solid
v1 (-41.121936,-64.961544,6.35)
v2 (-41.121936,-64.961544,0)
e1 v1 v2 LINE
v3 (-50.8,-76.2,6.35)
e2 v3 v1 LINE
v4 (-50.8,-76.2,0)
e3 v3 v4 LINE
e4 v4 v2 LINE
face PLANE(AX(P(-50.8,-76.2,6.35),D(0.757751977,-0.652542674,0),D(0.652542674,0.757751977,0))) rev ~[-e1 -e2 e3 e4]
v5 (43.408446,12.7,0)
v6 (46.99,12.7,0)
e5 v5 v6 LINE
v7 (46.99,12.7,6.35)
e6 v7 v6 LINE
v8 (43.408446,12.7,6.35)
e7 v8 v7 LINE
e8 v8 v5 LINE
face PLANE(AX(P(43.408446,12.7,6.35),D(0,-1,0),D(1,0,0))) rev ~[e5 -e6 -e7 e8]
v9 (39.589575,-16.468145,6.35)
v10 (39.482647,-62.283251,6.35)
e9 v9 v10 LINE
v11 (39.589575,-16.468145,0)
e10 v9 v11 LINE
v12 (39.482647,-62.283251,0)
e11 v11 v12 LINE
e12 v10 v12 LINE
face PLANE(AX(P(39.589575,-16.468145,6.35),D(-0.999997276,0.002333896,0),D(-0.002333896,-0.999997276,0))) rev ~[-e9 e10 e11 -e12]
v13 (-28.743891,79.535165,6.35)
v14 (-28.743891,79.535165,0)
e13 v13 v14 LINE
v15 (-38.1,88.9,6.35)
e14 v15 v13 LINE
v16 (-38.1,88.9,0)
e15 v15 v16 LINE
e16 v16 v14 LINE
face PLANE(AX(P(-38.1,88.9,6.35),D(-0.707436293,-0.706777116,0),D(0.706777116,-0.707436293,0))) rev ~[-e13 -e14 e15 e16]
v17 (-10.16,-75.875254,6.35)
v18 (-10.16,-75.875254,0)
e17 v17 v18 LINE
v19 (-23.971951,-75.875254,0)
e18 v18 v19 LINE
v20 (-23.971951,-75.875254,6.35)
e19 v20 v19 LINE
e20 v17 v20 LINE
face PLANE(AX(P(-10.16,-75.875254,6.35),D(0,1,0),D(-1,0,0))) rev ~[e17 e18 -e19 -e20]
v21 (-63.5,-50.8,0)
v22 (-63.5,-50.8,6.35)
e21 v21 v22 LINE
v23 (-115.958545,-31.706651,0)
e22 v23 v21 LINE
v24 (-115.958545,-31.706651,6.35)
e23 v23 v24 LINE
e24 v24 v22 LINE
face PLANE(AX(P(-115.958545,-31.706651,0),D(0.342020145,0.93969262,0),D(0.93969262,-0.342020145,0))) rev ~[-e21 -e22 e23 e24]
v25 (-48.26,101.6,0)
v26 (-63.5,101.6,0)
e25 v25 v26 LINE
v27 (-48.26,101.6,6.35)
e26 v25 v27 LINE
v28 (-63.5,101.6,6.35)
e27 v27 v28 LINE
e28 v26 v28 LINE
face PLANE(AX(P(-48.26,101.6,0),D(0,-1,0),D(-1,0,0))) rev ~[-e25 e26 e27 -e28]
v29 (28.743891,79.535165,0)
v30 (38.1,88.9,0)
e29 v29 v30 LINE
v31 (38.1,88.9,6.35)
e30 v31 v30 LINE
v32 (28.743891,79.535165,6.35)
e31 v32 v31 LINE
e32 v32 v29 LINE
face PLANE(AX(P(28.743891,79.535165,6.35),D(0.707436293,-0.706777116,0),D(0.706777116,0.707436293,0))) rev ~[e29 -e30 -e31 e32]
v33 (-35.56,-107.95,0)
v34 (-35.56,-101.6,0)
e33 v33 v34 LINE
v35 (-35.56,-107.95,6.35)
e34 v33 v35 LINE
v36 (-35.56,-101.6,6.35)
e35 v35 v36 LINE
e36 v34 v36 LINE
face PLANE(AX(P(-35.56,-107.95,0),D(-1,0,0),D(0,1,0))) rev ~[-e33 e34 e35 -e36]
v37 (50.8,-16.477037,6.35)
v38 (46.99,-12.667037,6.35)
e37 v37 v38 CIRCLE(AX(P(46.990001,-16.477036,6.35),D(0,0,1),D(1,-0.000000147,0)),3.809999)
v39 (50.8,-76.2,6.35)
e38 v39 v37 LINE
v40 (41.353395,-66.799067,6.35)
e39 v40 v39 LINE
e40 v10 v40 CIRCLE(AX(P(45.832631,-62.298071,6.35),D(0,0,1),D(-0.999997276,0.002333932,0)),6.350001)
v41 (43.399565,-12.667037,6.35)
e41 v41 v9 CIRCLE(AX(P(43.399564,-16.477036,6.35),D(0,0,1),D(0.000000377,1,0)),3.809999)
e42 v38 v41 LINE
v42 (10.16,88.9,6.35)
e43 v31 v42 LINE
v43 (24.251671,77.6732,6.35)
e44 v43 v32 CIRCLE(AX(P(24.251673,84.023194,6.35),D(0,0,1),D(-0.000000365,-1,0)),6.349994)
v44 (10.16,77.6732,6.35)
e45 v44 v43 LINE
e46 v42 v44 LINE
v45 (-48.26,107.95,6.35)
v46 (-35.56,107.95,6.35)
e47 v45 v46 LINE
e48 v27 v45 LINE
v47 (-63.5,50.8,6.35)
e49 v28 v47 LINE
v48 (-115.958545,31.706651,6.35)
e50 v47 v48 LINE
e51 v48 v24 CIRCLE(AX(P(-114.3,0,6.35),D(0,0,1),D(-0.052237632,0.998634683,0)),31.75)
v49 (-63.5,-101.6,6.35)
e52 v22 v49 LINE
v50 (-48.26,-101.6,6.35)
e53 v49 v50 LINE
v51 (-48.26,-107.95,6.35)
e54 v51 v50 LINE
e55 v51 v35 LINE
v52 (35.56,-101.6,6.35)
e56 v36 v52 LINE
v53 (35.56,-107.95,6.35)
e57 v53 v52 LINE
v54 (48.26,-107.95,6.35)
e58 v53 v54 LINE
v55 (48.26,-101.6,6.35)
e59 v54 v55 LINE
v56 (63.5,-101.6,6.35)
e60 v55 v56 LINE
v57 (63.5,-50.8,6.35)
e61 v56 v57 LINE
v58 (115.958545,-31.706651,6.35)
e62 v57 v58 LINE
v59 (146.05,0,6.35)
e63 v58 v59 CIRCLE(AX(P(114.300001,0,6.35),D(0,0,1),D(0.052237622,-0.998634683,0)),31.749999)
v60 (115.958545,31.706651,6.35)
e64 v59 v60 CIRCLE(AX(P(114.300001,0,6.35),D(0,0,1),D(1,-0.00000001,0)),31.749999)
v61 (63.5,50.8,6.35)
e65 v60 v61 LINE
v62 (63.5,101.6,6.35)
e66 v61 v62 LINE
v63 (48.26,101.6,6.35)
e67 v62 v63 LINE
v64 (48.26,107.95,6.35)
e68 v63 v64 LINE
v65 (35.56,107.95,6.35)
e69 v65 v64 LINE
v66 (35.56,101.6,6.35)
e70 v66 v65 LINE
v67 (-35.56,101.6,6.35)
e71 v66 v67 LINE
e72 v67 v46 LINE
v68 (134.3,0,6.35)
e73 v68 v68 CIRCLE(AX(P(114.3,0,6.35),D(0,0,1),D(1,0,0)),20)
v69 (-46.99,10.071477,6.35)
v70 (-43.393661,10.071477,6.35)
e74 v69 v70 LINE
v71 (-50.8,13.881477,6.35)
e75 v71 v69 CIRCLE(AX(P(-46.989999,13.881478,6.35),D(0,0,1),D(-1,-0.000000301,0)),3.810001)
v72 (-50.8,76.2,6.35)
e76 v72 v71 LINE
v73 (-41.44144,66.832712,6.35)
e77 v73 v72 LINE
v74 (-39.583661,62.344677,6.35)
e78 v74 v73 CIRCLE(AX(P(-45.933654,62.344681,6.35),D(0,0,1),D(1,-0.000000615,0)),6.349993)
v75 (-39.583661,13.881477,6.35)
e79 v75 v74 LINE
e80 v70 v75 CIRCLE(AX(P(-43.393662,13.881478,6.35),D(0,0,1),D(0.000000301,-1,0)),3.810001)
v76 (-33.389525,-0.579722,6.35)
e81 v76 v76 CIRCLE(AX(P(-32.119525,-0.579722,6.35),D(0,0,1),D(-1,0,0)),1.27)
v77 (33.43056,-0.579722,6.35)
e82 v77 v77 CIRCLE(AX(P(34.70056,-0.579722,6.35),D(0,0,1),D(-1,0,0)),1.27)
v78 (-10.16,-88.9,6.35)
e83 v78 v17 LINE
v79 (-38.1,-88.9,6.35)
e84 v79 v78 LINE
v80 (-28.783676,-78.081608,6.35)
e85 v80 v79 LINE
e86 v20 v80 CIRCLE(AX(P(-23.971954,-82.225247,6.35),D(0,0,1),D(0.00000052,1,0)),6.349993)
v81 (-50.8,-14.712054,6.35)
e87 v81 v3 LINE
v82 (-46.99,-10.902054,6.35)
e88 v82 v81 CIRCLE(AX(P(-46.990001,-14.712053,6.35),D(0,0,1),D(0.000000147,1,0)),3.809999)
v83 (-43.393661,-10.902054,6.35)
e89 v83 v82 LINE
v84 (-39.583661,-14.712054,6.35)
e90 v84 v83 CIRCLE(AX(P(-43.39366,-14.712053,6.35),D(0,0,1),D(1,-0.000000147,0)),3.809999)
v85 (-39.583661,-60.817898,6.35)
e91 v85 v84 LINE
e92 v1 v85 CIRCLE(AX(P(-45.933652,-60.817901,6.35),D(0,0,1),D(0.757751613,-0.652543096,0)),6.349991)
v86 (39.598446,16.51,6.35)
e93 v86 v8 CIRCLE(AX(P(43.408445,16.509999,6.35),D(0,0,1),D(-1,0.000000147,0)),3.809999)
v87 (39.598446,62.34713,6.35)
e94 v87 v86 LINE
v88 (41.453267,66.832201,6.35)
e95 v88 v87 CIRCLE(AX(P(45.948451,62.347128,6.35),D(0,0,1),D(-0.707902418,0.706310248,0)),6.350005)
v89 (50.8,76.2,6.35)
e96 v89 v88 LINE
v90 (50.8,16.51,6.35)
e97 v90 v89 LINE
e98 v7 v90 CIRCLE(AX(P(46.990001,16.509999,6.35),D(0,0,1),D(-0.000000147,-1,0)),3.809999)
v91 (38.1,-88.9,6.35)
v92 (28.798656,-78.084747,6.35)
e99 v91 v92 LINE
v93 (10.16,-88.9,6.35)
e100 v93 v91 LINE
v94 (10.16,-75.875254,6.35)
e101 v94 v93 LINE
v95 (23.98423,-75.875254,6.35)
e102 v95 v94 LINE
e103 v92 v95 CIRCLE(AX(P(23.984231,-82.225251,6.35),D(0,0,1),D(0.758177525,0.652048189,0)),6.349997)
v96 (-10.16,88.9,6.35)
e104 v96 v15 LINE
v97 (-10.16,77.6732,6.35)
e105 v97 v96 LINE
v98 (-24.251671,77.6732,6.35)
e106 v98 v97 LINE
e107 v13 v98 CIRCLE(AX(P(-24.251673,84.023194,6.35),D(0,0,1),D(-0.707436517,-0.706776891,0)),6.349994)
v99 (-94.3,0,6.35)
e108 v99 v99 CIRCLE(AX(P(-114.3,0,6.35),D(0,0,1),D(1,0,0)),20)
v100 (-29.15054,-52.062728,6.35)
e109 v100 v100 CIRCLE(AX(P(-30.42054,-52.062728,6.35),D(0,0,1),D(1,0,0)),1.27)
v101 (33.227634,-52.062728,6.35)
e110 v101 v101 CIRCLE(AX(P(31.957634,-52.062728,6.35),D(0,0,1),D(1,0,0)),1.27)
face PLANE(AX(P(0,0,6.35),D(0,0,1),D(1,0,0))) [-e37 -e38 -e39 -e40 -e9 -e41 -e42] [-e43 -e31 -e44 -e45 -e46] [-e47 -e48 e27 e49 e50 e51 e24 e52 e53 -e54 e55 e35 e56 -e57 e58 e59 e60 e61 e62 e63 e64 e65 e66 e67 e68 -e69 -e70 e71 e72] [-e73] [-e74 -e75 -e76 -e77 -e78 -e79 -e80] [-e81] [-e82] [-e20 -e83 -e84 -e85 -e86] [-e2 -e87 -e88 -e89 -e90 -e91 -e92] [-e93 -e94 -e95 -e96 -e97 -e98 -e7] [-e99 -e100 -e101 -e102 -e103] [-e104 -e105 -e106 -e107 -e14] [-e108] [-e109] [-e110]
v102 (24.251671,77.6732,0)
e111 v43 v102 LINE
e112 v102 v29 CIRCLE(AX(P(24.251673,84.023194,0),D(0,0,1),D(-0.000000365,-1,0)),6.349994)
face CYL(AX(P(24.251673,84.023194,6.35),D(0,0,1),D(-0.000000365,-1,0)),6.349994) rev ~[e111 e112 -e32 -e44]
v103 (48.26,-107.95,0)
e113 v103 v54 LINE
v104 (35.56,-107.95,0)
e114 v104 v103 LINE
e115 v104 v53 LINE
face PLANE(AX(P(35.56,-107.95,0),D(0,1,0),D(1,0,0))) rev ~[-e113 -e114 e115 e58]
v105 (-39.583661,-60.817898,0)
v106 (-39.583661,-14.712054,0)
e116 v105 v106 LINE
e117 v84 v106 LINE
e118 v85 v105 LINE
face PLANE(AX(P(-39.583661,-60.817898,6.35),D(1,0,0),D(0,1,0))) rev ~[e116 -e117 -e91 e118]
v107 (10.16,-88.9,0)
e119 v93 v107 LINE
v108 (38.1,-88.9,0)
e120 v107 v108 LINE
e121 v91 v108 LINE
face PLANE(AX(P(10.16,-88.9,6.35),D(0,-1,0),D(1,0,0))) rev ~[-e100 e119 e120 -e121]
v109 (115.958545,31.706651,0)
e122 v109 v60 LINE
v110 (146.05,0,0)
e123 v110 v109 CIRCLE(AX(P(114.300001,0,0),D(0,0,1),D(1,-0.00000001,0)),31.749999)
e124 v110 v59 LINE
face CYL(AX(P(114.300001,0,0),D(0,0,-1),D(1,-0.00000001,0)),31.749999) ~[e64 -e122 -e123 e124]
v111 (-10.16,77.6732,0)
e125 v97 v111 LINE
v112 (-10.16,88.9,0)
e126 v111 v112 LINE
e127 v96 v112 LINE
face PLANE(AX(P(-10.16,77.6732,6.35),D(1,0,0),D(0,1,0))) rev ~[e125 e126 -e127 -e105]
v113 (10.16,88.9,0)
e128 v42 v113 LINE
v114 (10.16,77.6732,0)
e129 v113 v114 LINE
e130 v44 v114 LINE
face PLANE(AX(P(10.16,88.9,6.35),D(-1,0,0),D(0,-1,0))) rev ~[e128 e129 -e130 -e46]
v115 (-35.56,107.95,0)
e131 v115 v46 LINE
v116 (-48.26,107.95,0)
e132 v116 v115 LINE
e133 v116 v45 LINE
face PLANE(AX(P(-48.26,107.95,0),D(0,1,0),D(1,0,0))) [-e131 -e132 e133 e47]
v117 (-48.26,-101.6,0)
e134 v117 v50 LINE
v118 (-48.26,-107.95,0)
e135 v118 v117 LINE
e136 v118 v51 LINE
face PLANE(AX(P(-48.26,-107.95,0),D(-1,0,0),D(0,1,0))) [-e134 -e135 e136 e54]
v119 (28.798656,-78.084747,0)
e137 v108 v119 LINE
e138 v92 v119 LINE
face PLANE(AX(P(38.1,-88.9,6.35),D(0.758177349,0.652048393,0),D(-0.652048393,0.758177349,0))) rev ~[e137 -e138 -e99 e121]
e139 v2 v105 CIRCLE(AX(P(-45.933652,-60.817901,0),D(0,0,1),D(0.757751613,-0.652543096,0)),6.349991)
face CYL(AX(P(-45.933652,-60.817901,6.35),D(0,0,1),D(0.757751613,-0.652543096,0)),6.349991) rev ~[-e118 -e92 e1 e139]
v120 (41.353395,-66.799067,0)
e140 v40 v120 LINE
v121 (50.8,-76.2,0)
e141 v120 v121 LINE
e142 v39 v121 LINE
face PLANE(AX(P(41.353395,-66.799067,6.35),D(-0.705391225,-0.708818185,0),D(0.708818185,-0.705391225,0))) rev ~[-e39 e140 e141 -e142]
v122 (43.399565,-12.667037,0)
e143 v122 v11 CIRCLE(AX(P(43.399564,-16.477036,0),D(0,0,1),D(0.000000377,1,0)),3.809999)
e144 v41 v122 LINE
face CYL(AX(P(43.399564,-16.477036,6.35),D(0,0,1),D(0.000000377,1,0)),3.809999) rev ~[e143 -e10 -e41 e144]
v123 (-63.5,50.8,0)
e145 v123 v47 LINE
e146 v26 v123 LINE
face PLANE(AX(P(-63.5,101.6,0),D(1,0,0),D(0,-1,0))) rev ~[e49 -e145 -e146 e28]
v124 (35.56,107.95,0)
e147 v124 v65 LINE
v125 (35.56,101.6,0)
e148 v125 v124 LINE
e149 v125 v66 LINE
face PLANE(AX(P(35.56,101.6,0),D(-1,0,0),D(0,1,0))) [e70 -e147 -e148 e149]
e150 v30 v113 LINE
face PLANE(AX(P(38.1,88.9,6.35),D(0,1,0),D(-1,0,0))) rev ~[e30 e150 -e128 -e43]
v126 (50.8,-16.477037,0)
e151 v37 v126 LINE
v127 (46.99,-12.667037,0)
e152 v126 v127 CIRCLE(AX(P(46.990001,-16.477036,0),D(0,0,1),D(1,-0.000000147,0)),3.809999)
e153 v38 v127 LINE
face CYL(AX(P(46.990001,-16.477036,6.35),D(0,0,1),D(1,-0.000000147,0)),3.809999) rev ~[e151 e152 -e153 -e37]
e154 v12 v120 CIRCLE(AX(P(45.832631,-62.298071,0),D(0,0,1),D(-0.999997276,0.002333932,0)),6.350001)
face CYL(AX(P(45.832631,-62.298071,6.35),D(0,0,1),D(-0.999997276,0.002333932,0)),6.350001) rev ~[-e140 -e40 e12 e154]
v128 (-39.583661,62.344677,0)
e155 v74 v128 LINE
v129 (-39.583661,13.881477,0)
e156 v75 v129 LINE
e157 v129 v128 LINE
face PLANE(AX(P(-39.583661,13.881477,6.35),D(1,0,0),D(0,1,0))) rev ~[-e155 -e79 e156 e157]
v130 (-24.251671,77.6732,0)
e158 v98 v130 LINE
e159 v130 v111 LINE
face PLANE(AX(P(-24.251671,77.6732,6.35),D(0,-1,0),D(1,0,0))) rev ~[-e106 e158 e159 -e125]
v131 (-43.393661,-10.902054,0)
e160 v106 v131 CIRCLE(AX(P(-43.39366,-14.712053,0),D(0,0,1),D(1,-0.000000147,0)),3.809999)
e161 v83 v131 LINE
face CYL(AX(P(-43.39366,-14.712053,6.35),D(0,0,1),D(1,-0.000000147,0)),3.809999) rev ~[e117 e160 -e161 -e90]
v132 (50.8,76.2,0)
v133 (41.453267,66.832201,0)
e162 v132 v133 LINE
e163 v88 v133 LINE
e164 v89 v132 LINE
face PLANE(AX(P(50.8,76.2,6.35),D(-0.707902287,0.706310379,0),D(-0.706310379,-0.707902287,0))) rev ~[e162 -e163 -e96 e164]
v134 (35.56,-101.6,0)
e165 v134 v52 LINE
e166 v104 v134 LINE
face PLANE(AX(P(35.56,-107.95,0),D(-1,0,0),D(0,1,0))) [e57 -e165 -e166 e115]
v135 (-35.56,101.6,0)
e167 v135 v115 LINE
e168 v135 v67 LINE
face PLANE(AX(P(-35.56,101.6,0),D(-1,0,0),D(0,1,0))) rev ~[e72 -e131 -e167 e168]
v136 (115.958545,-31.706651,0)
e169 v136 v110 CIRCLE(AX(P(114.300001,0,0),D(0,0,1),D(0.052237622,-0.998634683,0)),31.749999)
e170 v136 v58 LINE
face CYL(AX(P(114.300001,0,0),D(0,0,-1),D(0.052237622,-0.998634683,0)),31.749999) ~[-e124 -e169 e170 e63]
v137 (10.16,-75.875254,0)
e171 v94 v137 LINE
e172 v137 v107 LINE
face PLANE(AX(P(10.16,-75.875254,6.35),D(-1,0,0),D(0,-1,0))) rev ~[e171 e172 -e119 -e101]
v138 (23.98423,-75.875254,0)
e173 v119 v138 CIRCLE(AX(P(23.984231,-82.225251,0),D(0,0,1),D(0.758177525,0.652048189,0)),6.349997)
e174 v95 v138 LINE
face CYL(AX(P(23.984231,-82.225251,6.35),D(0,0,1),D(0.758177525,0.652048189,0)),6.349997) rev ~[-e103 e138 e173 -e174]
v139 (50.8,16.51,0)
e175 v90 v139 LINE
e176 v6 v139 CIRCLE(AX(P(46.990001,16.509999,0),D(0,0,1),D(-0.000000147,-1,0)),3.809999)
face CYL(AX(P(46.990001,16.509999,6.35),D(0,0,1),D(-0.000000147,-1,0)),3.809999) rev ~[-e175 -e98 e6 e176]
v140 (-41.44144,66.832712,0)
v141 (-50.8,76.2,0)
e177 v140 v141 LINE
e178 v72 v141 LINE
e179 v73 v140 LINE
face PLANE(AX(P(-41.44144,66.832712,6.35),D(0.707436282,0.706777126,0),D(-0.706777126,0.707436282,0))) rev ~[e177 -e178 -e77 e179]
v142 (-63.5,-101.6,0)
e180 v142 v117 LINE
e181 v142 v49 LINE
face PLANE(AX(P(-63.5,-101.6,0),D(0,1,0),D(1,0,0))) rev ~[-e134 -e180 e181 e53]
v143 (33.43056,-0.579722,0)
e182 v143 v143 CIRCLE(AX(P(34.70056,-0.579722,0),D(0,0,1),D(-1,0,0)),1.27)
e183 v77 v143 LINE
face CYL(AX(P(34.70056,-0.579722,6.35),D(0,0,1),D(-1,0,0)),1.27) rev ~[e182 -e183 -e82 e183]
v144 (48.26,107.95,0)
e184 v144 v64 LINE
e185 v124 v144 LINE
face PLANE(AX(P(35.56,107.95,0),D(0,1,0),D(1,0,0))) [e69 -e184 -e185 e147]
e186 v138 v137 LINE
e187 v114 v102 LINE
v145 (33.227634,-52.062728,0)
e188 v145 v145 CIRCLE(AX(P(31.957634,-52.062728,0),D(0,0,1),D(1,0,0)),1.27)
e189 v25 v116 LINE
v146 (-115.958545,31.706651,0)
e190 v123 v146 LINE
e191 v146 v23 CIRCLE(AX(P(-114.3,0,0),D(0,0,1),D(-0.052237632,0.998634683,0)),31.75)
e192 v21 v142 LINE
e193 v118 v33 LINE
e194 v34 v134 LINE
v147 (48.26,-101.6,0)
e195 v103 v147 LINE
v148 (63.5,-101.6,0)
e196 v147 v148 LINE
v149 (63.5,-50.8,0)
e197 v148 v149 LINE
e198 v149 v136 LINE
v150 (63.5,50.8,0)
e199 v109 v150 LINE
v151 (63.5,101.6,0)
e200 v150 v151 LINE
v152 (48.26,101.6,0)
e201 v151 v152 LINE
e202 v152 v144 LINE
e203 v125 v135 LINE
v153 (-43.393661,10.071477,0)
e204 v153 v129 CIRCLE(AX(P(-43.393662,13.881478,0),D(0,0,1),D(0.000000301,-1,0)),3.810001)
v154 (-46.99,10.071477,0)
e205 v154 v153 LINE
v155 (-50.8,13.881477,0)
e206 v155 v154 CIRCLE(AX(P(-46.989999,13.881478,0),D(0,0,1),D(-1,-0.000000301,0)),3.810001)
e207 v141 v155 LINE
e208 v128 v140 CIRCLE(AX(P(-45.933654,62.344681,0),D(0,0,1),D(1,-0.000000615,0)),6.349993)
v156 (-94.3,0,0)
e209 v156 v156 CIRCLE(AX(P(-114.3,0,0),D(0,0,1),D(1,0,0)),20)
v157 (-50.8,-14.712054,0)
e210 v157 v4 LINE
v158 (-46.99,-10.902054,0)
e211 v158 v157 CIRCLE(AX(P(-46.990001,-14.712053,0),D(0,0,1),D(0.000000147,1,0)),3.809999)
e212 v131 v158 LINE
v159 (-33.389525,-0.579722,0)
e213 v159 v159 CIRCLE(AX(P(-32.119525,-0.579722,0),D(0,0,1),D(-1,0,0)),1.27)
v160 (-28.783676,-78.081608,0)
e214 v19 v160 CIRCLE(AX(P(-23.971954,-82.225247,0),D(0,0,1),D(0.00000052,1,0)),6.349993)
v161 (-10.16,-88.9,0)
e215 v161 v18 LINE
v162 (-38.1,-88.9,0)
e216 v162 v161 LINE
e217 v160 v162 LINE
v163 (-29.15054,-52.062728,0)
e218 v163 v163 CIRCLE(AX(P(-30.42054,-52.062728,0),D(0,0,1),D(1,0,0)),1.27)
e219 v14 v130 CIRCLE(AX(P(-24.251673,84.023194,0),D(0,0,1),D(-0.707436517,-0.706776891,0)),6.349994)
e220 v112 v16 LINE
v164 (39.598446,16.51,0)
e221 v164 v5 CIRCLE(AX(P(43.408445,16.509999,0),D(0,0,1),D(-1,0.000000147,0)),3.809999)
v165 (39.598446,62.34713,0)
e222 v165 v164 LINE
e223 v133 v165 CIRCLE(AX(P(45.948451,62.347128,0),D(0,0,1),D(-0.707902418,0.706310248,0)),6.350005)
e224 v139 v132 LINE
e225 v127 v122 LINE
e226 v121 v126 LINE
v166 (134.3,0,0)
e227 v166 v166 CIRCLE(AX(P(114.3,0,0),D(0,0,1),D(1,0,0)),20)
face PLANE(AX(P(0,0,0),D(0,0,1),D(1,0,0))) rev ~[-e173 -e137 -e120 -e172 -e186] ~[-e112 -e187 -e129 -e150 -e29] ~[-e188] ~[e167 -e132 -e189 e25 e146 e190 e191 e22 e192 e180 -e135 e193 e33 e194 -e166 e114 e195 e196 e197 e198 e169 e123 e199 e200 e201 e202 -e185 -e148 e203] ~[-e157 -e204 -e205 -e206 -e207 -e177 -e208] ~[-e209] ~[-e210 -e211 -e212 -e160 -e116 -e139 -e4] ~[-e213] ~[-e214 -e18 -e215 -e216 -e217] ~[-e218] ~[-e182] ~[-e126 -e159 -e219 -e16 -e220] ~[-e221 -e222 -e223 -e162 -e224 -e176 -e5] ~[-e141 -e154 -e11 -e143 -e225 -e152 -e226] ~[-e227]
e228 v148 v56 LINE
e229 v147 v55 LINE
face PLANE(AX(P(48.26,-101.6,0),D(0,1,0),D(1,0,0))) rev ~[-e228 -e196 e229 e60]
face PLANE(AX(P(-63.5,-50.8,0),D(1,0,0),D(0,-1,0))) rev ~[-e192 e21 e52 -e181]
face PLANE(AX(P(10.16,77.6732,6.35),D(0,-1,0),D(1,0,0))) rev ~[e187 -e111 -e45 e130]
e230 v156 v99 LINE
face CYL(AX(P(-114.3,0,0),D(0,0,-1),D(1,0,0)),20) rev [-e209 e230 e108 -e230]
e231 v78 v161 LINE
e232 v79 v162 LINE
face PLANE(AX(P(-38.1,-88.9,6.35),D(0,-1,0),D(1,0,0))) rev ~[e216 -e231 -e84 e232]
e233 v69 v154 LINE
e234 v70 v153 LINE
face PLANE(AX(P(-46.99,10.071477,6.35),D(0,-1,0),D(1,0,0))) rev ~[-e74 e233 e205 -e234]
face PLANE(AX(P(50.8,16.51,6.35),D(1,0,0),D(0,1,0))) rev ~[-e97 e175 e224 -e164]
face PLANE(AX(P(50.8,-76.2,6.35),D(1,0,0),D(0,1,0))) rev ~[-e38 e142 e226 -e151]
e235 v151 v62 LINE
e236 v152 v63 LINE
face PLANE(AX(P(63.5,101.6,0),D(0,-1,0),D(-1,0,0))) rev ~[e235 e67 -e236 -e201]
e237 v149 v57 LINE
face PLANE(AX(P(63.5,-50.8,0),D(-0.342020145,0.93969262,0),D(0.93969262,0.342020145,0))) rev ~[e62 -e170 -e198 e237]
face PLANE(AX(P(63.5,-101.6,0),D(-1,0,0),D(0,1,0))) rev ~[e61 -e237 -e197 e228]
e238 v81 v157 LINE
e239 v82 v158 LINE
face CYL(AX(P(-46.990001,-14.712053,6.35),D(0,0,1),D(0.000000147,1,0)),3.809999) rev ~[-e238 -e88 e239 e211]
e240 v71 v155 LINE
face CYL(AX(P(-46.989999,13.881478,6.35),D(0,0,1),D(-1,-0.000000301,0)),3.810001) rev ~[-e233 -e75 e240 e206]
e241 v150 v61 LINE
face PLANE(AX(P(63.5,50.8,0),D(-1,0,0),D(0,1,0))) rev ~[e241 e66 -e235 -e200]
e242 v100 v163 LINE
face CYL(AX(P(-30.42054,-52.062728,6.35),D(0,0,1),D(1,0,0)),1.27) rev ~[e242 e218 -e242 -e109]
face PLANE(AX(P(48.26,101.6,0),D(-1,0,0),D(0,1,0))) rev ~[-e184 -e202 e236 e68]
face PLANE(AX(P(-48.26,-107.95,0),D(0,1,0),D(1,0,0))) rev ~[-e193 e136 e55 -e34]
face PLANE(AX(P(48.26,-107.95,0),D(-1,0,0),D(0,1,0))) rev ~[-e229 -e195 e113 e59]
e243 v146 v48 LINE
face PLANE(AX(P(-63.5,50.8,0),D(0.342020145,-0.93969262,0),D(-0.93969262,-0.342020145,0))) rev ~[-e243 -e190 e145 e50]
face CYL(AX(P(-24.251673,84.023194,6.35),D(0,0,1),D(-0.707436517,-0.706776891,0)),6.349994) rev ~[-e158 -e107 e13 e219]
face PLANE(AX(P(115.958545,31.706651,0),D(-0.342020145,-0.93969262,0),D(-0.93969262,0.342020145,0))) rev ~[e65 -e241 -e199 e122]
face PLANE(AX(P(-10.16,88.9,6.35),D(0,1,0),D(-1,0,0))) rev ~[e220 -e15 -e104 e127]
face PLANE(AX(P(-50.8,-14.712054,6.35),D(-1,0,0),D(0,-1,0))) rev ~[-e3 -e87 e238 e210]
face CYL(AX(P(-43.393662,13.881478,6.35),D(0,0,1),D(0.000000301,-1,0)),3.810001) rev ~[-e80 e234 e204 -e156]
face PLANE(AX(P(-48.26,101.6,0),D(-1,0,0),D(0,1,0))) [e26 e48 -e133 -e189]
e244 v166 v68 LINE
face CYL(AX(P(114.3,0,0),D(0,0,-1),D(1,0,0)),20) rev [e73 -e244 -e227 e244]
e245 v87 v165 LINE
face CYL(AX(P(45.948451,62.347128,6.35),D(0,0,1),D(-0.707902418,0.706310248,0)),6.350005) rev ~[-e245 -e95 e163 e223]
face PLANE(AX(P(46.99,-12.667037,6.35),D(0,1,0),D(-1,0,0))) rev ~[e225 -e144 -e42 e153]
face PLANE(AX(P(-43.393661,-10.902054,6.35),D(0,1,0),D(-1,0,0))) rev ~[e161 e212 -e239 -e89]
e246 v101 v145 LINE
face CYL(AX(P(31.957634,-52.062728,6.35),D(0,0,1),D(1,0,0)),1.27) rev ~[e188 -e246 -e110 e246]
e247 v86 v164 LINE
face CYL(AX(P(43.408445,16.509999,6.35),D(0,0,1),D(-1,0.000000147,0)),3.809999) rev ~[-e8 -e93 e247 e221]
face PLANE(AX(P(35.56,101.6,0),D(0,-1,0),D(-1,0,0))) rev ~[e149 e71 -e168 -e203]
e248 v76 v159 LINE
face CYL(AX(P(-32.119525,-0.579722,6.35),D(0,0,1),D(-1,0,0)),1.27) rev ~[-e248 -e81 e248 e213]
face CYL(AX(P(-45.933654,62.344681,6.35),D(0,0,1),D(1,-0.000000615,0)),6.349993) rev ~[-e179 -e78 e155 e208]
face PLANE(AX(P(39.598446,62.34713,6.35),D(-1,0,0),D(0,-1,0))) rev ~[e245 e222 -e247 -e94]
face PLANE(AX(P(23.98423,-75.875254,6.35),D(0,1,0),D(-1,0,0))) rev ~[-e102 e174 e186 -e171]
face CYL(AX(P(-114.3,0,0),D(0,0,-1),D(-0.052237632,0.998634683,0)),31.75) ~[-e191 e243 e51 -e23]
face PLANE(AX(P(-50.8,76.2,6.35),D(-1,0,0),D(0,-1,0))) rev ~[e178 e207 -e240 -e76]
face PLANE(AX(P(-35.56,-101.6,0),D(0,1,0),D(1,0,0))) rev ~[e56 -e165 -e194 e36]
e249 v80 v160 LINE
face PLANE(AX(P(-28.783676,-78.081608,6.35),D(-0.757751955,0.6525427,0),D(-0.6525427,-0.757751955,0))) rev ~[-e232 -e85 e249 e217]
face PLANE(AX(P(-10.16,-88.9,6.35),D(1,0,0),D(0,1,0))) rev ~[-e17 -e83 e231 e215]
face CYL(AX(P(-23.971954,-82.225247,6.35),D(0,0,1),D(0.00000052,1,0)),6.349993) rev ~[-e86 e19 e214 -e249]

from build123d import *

# Parameters (mm, degrees)
F0_W     = 12.7
F0_H     = 6.35
F0_R     = 20
F1_DEPTH = 6.35
F3_DEPTH = 25.4
F4_R     = 1.27
F5_DEPTH = 25.4


with BuildPart() as f1:
    # F0 (on Top) → F1 (new body)
    with BuildSketch(Plane.XY):
        Polygon((-48.26, 101.6), (-63.5, 101.6), (-63.5, 50.8), (-63.5, -50.8), (-63.5, -101.6), (-48.26, -101.6), (-35.56, -101.6), (35.56, -101.6), (48.26, -101.6), (63.5, -101.6), (63.5, -50.8), (63.5, 50.8), (63.5, 101.6), (48.26, 101.6), (35.56, 101.6), (-35.56, 101.6), align=None)
        with Locations((-41.91, 104.775)):
            Rectangle(F0_W, F0_H)
        with BuildLine():
            Line((-63.5, -50.8), (-63.5, 50.8))
            Line((-63.5, 50.8), (-115.958545, 31.706651))
            ThreePointArc((-115.958545, 31.706651), (-92.443608, 23.02956), (-82.55, 0))
            ThreePointArc((-82.55, 0), (-92.443608, -23.02956), (-115.958545, -31.706651))
            Line((-115.958545, -31.706651), (-63.5, -50.8))
        make_face()
        with BuildLine():
            ThreePointArc((-82.55, 0), (-92.443608, 23.02956), (-115.958545, 31.706651))
            ThreePointArc((-115.958545, 31.706651), (-146.05, 0), (-115.958545, -31.706651))
            ThreePointArc((-115.958545, -31.706651), (-92.443608, -23.02956), (-82.55, 0))
        make_face()
        with Locations((-114.3, 0)):
            Circle(F0_R, mode=Mode.SUBTRACT)
        with Locations((41.91, 104.775)):
            Rectangle(F0_W, F0_H)
        with Locations((-41.91, -104.775)):
            Rectangle(F0_W, F0_H)
        with BuildLine():
            Line((115.958545, 31.706651), (63.5, 50.8))
            Line((63.5, 50.8), (63.5, -50.8))
            Line((63.5, -50.8), (115.958545, -31.706651))
            ThreePointArc((115.958545, -31.706651), (82.55, 0), (115.958545, 31.706651))
        make_face()
        with Locations((41.91, -104.775)):
            Rectangle(F0_W, F0_H)
        with BuildLine():
            ThreePointArc((146.05, 0), (137.32956, 21.856392), (115.958545, 31.706651))
            ThreePointArc((115.958545, 31.706651), (82.55, 0), (115.958545, -31.706651))
            ThreePointArc((115.958545, -31.706651), (137.32956, -21.856392), (146.05, 0))
        make_face()
        with Locations((114.3, 0)):
            Circle(F0_R, mode=Mode.SUBTRACT)
    extrude(amount=F1_DEPTH)

    # F2 (on face) → F3 (cut)
    with BuildSketch(Plane.XY.offset(6.35)):
        with BuildLine():
            ThreePointArc((-28.743891, 79.535165), (-26.683078, 78.157131), (-24.251671, 77.6732))
            Line((-24.251671, 77.6732), (-10.16, 77.6732))
            Line((-10.16, 77.6732), (-10.16, 88.9))
            Line((-10.16, 88.9), (-38.1, 88.9))
            Line((-38.1, 88.9), (-28.743891, 79.535165))
        make_face()
        with BuildLine():
            Line((-10.16, -75.875254), (-23.971951, -75.875254))
            ThreePointArc((-23.971951, -75.875254), (-26.61868, -76.453137), (-28.783676, -78.081608))
            Line((-28.783676, -78.081608), (-38.1, -88.9))
            Line((-38.1, -88.9), (-10.16, -88.9))
            Line((-10.16, -88.9), (-10.16, -75.875254))
        make_face()
        with BuildLine():
            Line((23.98423, -75.875254), (10.16, -75.875254))
            Line((10.16, -75.875254), (10.16, -88.9))
            Line((10.16, -88.9), (38.1, -88.9))
            Line((38.1, -88.9), (28.798656, -78.084747))
            ThreePointArc((28.798656, -78.084747), (26.632841, -76.454001), (23.98423, -75.875254))
        make_face()
        with BuildLine():
            Line((41.353395, -66.799067), (50.8, -76.2))
            Line((50.8, -76.2), (50.8, -16.477037))
            ThreePointArc((50.8, -16.477037), (49.684077, -13.78296), (46.99, -12.667037))
            Line((46.99, -12.667037), (43.399565, -12.667037))
            ThreePointArc((43.399565, -12.667037), (40.708633, -13.779818), (39.589575, -16.468145))
            Line((39.589575, -16.468145), (39.482647, -62.283251))
            ThreePointArc((39.482647, -62.283251), (39.966103, -64.728373), (41.353395, -66.799067))
        make_face()
        with BuildLine():
            Line((-50.8, -14.712054), (-50.8, -76.2))
            Line((-50.8, -76.2), (-41.121936, -64.961544))
            ThreePointArc((-41.121936, -64.961544), (-39.980638, -63.027881), (-39.583661, -60.817898))
            Line((-39.583661, -60.817898), (-39.583661, -14.712054))
            ThreePointArc((-39.583661, -14.712054), (-40.699584, -12.017977), (-43.393661, -10.902054))
            Line((-43.393661, -10.902054), (-46.99, -10.902054))
            ThreePointArc((-46.99, -10.902054), (-49.684077, -12.017977), (-50.8, -14.712054))
        make_face()
        with BuildLine():
            Line((50.8, 16.51), (50.8, 76.2))
            Line((50.8, 76.2), (41.453267, 66.832201))
            ThreePointArc((41.453267, 66.832201), (40.080445, 64.773868), (39.598446, 62.34713))
            Line((39.598446, 62.34713), (39.598446, 16.51))
            ThreePointArc((39.598446, 16.51), (40.714369, 13.815923), (43.408446, 12.7))
            Line((43.408446, 12.7), (46.99, 12.7))
            ThreePointArc((46.99, 12.7), (49.684077, 13.815923), (50.8, 16.51))
        make_face()
        with BuildLine():
            Line((10.16, 88.9), (10.16, 77.6732))
            Line((10.16, 77.6732), (24.251671, 77.6732))
            ThreePointArc((24.251671, 77.6732), (26.683078, 78.157131), (28.743891, 79.535165))
            Line((28.743891, 79.535165), (38.1, 88.9))
            Line((38.1, 88.9), (10.16, 88.9))
        make_face()
        with BuildLine():
            Line((-41.44144, 66.832712), (-50.8, 76.2))
            Line((-50.8, 76.2), (-50.8, 13.881477))
            ThreePointArc((-50.8, 13.881477), (-49.684077, 11.187401), (-46.99, 10.071477))
            Line((-46.99, 10.071477), (-43.393661, 10.071477))
            ThreePointArc((-43.393661, 10.071477), (-40.699584, 11.187401), (-39.583661, 13.881477))
            Line((-39.583661, 13.881477), (-39.583661, 62.344677))
            ThreePointArc((-39.583661, 62.344677), (-40.066459, 64.77335), (-41.44144, 66.832712))
        make_face()
    extrude(amount=-F3_DEPTH, mode=Mode.SUBTRACT)

    # F4 (on face) → F5 (cut)
    with BuildSketch(Plane.XY.offset(6.35)):
        with BuildLine():
            ThreePointArc((30.687634, -52.062728), (31.957634, -53.332728), (33.227634, -52.062728))
            ThreePointArc((33.227634, -52.062728), (31.957634, -50.792728), (30.687634, -52.062728))
        make_face()
        with Locations((-30.42054, -52.062728)):
            Circle(F4_R)
        with BuildLine():
            ThreePointArc((-30.849525, -0.579722), (-32.119525, 0.690278), (-33.389525, -0.579722))
            Line((-33.389525, -0.579722), (-30.849525, -0.579722))
        make_face()
        with BuildLine():
            ThreePointArc((35.97056, -0.579722), (34.70056, 0.690278), (33.43056, -0.579722))
            Line((33.43056, -0.579722), (35.97056, -0.579722))
        make_face()
        with BuildLine():
            Line((35.97056, -0.579722), (33.43056, -0.579722))
            ThreePointArc((33.43056, -0.579722), (34.70056, -1.849722), (35.97056, -0.579722))
        make_face()
        with BuildLine():
            Line((-30.849525, -0.579722), (-33.389525, -0.579722))
            ThreePointArc((-33.389525, -0.579722), (-32.119525, -1.849722), (-30.849525, -0.579722))
        make_face()
    extrude(amount=-F5_DEPTH, mode=Mode.SUBTRACT)


solid = f1.part
